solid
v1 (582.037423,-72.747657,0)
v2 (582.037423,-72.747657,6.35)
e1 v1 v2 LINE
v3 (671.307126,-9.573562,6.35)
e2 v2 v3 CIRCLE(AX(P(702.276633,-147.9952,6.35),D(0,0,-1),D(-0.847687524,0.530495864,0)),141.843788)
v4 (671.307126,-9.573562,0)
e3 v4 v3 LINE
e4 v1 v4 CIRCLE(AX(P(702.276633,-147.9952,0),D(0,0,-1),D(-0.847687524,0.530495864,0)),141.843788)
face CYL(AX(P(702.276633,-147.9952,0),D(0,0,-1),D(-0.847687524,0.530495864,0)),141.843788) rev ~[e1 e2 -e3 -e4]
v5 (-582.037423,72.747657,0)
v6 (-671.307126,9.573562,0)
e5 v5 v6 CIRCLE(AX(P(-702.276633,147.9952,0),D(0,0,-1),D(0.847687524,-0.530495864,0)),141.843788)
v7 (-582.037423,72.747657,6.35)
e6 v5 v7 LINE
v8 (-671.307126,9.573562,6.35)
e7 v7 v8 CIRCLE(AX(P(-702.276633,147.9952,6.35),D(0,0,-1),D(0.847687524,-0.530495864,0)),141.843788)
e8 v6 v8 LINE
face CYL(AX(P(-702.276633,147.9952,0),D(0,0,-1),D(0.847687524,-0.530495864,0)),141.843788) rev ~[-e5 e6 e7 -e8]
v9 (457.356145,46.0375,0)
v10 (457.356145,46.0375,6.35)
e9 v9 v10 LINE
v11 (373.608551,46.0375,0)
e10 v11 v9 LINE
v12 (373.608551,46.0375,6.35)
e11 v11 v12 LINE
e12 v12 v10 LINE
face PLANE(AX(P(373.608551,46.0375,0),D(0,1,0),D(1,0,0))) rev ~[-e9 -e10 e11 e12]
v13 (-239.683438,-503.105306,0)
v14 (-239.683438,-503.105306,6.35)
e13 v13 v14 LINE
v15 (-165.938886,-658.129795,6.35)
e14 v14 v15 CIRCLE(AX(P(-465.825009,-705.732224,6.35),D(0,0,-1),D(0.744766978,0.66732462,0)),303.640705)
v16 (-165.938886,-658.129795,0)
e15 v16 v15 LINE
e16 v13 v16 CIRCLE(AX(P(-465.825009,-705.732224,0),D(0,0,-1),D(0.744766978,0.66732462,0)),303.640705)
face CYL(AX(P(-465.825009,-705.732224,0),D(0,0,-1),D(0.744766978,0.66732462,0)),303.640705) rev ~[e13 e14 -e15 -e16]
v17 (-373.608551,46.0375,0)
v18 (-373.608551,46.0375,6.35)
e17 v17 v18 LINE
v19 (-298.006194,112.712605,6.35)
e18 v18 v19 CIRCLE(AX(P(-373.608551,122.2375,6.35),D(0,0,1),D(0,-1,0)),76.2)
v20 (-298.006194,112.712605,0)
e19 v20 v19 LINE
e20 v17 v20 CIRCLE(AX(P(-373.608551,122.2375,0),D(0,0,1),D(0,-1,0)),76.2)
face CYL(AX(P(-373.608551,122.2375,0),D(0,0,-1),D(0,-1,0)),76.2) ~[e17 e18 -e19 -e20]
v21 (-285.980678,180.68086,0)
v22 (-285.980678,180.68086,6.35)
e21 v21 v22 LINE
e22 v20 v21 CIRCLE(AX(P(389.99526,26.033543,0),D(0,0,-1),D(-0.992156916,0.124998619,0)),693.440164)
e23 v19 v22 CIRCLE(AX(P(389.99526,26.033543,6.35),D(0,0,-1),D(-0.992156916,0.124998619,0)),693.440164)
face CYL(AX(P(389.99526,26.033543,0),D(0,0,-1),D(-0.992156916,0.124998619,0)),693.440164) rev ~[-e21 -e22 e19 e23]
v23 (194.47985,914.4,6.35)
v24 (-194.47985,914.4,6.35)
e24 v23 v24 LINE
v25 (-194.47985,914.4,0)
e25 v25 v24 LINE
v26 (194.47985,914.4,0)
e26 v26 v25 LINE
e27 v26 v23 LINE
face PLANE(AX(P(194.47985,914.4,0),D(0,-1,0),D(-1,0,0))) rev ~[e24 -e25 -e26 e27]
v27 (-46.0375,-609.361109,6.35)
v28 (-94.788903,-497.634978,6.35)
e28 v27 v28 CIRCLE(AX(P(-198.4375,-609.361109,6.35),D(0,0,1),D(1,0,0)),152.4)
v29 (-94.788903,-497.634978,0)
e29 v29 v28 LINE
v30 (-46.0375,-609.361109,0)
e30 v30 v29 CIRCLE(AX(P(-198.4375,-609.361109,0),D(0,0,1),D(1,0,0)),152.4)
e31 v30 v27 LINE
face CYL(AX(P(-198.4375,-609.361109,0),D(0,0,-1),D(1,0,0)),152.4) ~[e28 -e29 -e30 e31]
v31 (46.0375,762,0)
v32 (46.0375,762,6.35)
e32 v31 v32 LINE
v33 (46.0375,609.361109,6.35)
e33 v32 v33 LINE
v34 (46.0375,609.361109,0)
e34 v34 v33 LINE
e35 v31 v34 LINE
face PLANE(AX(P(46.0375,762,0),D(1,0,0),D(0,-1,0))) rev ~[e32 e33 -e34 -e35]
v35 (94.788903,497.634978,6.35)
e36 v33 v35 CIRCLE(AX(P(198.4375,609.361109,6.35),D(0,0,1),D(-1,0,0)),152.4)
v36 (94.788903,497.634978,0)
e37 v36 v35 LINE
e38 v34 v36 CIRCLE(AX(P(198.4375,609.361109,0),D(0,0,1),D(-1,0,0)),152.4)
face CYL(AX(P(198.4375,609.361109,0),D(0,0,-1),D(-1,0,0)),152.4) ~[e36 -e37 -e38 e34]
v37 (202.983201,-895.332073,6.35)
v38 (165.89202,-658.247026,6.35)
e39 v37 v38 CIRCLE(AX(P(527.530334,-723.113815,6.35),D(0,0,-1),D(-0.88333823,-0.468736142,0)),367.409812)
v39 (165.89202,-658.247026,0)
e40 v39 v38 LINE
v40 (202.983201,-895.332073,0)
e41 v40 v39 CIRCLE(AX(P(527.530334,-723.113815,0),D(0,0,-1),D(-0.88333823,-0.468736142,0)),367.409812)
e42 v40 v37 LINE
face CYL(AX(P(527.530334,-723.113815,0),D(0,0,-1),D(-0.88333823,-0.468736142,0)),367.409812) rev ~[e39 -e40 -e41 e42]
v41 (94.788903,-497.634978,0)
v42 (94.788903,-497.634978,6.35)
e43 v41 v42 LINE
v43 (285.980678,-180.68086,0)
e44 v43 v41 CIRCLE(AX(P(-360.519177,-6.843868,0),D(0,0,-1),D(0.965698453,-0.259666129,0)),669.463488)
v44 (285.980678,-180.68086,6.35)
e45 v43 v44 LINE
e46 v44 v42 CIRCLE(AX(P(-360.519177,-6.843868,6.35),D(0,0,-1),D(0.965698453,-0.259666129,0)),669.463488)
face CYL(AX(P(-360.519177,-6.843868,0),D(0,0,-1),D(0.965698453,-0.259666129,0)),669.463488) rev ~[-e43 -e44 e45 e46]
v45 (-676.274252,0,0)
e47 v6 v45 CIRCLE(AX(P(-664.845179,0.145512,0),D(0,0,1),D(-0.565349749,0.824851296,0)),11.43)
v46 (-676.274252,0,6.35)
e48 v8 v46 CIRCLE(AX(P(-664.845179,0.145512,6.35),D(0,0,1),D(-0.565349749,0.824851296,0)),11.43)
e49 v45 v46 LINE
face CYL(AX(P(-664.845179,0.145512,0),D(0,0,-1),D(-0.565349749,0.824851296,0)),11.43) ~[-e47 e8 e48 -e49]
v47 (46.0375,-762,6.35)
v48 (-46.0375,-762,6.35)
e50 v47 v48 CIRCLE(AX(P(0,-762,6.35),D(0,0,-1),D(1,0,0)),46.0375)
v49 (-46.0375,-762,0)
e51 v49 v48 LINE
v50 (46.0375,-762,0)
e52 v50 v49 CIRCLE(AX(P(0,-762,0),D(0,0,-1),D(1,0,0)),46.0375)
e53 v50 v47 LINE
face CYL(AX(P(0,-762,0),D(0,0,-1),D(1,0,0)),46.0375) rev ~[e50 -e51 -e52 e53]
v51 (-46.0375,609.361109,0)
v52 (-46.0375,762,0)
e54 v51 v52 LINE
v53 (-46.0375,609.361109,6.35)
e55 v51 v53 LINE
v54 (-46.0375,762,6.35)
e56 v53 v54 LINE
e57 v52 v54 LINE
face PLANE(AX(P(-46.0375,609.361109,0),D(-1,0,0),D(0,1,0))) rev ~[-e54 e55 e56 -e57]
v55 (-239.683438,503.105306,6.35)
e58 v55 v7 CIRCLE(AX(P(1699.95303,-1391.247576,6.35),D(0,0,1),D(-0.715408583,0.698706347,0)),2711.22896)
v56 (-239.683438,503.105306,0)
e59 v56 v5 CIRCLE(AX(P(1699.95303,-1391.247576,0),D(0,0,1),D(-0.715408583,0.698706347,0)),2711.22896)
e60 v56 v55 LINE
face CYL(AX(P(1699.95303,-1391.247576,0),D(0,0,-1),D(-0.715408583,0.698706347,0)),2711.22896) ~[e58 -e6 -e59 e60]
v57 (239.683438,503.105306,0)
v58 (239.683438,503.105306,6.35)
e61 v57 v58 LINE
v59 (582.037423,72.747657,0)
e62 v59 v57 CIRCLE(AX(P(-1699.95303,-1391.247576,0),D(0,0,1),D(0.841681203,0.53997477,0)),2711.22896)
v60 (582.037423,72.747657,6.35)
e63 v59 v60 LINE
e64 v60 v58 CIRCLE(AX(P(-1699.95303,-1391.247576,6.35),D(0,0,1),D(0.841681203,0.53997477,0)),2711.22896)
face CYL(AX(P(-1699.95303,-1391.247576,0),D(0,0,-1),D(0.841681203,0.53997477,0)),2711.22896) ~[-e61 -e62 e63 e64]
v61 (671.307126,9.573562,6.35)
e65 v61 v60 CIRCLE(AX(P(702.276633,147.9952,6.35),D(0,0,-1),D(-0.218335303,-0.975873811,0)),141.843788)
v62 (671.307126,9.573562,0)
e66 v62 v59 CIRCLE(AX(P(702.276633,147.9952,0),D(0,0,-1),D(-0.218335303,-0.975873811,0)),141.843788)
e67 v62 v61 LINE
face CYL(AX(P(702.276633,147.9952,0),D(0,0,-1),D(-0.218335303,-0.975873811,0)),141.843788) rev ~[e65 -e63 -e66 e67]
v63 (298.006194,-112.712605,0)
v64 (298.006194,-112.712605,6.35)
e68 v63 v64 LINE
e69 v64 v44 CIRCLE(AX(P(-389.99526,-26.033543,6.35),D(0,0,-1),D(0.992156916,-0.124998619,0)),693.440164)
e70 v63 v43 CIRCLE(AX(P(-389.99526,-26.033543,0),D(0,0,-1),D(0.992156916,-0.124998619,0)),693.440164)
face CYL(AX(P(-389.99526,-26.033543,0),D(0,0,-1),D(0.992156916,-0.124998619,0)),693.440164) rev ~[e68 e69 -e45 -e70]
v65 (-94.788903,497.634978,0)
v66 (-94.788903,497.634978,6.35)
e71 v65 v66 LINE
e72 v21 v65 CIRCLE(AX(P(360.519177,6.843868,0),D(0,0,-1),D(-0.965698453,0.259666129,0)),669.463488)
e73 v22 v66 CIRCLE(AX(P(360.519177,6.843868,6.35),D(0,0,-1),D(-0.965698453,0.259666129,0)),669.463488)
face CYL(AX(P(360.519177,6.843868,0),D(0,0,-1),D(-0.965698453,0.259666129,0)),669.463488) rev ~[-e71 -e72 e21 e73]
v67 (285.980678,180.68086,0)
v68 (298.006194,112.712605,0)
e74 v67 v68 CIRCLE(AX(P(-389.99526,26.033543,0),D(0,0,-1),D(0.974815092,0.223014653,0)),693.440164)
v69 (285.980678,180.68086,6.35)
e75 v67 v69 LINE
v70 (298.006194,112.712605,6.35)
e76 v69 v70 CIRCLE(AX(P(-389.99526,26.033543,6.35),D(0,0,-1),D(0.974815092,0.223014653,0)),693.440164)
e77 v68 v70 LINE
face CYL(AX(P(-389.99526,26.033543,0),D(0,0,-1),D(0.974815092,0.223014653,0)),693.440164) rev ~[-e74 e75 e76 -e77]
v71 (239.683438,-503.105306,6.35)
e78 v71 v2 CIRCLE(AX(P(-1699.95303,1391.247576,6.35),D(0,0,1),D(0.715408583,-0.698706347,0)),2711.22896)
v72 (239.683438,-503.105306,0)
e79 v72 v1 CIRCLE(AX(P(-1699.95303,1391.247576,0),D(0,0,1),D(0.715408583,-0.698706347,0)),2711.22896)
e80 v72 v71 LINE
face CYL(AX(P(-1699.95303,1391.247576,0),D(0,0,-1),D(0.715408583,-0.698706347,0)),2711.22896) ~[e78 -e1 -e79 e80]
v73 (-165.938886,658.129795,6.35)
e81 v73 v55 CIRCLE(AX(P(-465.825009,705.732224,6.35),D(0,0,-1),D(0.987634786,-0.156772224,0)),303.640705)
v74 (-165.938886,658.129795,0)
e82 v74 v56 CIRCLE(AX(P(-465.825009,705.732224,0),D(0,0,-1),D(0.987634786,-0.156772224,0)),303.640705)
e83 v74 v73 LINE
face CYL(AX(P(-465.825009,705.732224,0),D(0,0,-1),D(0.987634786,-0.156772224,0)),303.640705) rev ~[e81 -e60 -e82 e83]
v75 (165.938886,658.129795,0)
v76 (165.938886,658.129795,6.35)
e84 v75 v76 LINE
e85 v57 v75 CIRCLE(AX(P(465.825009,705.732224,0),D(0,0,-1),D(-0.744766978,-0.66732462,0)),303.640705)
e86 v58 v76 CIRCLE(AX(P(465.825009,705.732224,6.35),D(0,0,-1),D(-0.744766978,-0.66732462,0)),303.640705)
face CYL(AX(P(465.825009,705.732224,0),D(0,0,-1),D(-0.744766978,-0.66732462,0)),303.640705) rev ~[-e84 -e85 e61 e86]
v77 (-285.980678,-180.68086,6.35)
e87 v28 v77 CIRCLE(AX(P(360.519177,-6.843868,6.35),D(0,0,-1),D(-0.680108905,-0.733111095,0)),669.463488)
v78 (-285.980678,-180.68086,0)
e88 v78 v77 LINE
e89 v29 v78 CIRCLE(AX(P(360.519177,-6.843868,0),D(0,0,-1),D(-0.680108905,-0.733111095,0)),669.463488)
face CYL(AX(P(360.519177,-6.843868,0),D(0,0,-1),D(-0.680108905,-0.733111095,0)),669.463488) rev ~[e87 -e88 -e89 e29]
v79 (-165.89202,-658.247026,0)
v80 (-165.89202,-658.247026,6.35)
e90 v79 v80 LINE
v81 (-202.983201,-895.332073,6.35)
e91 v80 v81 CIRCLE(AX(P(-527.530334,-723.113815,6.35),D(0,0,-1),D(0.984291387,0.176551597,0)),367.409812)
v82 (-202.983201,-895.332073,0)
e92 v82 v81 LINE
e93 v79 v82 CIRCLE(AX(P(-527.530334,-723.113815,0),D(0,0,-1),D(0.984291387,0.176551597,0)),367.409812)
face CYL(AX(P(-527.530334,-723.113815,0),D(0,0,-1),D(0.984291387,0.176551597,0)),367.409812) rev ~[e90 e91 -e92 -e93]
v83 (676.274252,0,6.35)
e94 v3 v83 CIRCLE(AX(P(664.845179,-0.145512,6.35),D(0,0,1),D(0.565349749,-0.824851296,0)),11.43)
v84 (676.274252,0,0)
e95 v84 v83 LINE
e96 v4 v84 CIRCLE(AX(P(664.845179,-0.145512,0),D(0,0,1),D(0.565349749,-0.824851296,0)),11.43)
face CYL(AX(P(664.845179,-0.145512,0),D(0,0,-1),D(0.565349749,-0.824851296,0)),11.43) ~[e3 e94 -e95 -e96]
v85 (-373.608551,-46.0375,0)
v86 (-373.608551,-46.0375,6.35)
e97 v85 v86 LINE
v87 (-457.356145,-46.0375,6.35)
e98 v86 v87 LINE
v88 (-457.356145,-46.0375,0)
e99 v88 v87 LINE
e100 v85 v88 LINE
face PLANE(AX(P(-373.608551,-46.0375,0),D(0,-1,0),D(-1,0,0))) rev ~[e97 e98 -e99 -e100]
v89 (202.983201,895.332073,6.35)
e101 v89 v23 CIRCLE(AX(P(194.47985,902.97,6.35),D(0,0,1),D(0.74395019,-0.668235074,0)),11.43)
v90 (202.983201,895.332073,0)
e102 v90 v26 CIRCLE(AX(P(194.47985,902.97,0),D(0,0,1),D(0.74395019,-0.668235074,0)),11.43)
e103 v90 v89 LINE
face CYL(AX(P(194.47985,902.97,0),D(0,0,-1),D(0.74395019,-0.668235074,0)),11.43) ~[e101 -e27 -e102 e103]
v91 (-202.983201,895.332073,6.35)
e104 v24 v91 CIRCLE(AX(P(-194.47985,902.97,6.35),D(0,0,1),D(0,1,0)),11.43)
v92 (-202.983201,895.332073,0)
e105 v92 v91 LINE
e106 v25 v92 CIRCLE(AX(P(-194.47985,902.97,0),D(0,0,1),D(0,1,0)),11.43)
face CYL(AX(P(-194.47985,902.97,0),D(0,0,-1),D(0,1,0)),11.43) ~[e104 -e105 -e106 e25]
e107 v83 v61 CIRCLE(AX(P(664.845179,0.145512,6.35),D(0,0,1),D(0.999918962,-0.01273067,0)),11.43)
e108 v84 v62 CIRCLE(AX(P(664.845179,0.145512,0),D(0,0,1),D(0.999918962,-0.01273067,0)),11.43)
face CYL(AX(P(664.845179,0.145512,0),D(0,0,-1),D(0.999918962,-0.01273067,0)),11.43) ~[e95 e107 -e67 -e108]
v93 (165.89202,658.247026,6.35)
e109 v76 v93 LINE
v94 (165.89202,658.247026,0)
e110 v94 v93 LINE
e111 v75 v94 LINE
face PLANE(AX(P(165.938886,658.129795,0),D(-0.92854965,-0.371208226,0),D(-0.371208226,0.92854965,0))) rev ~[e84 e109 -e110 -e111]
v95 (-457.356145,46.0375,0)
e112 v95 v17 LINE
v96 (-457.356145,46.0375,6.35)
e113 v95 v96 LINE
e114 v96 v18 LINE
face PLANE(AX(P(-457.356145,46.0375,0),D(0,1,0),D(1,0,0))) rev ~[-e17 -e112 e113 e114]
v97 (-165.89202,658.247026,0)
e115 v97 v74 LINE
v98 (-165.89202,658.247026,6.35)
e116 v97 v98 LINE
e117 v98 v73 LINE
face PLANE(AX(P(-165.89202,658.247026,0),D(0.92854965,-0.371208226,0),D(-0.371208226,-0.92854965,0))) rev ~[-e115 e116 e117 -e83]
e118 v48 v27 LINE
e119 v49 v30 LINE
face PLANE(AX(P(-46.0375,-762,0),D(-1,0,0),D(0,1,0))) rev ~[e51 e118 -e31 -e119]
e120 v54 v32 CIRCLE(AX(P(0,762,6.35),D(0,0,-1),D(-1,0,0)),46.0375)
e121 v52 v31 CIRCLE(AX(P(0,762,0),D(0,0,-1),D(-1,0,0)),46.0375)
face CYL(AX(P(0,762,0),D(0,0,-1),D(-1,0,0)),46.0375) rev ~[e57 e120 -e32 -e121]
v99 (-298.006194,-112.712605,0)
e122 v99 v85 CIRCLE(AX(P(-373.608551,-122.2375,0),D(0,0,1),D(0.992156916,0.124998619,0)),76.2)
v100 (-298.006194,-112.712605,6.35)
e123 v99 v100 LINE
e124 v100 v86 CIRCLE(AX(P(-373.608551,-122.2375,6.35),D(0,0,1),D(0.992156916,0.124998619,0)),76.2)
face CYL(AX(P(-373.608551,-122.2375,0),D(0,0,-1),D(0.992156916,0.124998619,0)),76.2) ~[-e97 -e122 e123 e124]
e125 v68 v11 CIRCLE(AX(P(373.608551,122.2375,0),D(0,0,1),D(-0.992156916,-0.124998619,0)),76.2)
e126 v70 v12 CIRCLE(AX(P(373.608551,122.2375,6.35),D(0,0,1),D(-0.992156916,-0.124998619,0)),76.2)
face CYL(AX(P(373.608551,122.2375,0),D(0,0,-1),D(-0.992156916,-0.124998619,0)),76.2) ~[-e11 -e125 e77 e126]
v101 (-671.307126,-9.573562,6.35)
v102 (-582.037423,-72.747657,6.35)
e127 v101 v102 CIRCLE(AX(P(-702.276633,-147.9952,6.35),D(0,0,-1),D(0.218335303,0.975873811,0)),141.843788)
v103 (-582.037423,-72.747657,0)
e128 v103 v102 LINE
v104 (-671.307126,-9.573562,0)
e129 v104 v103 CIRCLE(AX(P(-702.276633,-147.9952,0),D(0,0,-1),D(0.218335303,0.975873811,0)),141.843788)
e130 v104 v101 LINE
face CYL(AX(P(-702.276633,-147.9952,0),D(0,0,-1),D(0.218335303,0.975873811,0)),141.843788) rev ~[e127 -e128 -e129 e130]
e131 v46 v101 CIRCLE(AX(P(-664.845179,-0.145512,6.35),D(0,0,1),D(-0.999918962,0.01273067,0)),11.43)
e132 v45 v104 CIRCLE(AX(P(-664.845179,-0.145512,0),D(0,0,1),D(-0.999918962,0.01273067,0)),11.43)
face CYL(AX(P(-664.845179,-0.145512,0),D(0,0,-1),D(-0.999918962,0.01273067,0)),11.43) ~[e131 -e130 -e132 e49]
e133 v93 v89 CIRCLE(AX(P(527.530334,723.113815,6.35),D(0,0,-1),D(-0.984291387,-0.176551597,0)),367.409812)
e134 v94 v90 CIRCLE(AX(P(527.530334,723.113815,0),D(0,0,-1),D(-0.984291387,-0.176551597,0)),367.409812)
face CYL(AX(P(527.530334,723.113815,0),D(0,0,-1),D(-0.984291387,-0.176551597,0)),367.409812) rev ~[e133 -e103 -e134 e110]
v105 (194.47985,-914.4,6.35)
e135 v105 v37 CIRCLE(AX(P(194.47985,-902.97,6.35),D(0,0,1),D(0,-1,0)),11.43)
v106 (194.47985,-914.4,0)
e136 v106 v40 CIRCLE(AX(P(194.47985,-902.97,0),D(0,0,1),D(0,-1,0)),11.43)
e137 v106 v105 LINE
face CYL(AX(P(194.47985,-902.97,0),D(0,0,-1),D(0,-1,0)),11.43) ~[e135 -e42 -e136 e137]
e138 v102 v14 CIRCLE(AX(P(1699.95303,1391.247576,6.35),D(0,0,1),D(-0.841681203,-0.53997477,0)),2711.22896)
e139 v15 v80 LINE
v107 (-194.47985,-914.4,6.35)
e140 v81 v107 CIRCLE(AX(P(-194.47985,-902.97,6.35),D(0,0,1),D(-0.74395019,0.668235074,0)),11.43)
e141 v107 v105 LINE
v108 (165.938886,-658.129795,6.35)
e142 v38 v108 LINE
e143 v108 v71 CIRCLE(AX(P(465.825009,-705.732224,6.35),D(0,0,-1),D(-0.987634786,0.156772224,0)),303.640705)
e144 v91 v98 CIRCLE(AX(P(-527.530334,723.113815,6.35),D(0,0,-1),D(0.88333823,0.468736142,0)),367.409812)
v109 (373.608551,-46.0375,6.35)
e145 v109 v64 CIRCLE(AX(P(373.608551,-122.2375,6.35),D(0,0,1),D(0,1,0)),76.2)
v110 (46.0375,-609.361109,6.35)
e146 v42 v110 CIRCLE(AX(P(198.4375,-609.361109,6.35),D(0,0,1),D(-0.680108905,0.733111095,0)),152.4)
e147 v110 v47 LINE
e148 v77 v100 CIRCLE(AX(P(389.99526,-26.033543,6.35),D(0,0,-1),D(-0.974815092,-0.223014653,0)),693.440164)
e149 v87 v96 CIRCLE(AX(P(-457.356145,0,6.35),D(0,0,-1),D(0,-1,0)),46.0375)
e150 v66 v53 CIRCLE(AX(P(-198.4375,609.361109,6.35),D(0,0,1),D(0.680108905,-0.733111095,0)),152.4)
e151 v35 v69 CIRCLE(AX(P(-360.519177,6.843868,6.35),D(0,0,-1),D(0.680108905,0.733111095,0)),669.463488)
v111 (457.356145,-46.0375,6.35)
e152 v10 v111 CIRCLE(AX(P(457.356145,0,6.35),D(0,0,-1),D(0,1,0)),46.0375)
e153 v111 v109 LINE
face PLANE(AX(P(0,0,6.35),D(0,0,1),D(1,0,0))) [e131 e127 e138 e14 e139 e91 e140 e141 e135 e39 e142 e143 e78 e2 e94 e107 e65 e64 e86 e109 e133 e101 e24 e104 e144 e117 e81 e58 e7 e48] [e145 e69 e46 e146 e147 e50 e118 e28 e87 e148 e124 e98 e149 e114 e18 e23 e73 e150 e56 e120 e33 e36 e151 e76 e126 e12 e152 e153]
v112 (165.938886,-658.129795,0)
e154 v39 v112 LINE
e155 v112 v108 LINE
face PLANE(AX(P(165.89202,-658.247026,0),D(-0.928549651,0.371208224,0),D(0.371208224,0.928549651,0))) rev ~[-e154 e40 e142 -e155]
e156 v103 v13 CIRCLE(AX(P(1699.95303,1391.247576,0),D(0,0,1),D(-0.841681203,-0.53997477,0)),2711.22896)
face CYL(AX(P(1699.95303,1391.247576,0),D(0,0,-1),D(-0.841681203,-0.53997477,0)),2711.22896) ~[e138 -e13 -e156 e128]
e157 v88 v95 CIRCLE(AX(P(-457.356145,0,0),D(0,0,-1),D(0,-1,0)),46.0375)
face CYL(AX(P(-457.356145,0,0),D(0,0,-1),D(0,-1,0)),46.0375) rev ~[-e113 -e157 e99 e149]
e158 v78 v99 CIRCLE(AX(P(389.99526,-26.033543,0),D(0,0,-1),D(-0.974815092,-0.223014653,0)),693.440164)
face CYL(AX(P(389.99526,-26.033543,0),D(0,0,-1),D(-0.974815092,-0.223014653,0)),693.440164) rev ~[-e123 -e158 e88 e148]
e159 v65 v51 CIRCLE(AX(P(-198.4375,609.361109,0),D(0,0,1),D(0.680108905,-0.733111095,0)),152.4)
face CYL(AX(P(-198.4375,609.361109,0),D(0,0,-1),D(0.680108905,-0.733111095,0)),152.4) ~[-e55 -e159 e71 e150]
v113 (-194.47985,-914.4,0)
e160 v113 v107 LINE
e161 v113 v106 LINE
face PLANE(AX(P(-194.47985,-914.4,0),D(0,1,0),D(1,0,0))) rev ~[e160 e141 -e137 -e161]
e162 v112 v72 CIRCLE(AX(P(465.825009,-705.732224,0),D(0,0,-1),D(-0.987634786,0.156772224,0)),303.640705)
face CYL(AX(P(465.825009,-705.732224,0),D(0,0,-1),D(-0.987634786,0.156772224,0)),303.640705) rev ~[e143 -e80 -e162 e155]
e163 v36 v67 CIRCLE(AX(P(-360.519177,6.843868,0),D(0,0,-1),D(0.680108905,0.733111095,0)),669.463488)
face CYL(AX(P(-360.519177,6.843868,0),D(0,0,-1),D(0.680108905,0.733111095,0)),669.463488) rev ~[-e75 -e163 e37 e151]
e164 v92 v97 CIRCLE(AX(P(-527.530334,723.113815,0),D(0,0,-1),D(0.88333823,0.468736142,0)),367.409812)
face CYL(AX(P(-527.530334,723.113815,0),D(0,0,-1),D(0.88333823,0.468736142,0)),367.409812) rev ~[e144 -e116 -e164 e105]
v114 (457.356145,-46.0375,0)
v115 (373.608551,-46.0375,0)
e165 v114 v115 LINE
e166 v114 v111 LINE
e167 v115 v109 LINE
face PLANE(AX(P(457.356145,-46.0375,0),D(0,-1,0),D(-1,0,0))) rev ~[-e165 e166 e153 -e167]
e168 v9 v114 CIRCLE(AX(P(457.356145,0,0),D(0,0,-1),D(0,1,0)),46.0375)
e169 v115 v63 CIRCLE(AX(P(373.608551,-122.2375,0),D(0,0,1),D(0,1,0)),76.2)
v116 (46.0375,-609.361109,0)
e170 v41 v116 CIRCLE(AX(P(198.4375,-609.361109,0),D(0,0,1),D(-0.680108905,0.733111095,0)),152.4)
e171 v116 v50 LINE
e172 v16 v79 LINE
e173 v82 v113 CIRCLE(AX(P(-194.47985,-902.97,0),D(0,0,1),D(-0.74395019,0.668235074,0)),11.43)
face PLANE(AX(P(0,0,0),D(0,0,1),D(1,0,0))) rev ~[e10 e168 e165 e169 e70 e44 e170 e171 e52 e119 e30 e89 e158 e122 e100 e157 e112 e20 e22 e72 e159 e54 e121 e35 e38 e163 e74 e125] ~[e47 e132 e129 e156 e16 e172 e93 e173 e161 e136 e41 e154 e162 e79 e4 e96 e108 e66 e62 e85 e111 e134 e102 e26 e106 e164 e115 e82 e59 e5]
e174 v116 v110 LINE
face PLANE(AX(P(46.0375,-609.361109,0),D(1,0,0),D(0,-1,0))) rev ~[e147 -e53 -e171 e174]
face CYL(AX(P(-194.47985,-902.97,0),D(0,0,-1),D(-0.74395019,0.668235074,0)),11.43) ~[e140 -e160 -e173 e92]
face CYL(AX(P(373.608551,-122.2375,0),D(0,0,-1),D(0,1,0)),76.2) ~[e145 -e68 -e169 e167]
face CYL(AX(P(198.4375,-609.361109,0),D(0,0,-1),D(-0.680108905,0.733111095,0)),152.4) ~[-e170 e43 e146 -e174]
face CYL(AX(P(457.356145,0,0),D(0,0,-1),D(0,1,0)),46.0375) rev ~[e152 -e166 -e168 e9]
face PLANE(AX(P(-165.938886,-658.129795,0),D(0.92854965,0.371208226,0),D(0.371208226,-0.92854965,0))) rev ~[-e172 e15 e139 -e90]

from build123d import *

# Parameters (mm, degrees)
BOSS_EXTRUDE1_DEPTH = 6.35


with BuildPart() as part:
    # Model → Boss-Extrude1 (new body)
    with BuildSketch(Plane.XY):
        with BuildLine():
            Line((-1e-09, 914.4), (-194.479849893, 914.4))
            ThreePointArc((-194.479849893, 914.4), (-204.918872942, 907.625287079), (-202.98320057, 895.332073104))
            ThreePointArc((-202.98320057, 895.332073104), (-164.535916974, 779.903104595), (-165.892020398, 658.247026365))
            Line((-165.892020398, 658.247026365), (-165.93888619, 658.129795087))
            ThreePointArc((-165.93888619, 658.129795087), (-191.627212467, 575.297388544), (-239.683438481, 503.105305724))
            ThreePointArc((-239.683438481, 503.105305724), (-421.799875665, 296.628923535), (-582.037423101, 72.747657041))
            ThreePointArc((-582.037423101, 72.747657041), (-620.33909224, 32.211350911), (-671.307126154, 9.573561873))
            ThreePointArc((-671.307126154, 9.573561873), (-674.990888605, 5.409489793), (-676.274252254, 0))
            ThreePointArc((-676.274252254, 0), (-674.990888605, -5.409489793), (-671.307126154, -9.573561873))
            ThreePointArc((-671.307126154, -9.573561873), (-620.33909224, -32.211350911), (-582.037423101, -72.747657041))
            ThreePointArc((-582.037423101, -72.747657041), (-421.799875665, -296.628923535), (-239.683438481, -503.105305724))
            ThreePointArc((-239.683438481, -503.105305724), (-191.627212467, -575.297388544), (-165.93888619, -658.129795087))
            Line((-165.93888619, -658.129795087), (-165.892020398, -658.247026365))
            ThreePointArc((-165.892020398, -658.247026365), (-164.535916974, -779.903104595), (-202.98320057, -895.332073104))
            ThreePointArc((-202.98320057, -895.332073104), (-204.918872942, -907.625287079), (-194.479849893, -914.4))
            Line((-194.479849893, -914.4), (-1e-09, -914.4))
            Line((-1e-09, -914.4), (194.47984989, -914.4))
            ThreePointArc((194.47984989, -914.4), (204.918872939, -907.625287079), (202.983200567, -895.332073104))
            ThreePointArc((202.983200567, -895.332073104), (164.535916972, -779.903104595), (165.892020395, -658.247026365))
            Line((165.892020395, -658.247026365), (165.938886187, -658.129795086))
            ThreePointArc((165.938886187, -658.129795086), (191.627212464, -575.297388544), (239.683438478, -503.105305724))
            ThreePointArc((239.683438478, -503.105305724), (421.79987566, -296.628923537), (582.037423094, -72.747657046))
            ThreePointArc((582.037423094, -72.747657046), (620.339092235, -32.211350913), (671.307126151, -9.573561873))
            ThreePointArc((671.307126151, -9.573561873), (674.990888602, -5.409489793), (676.274252251, 0))
            ThreePointArc((676.274252251, 0), (674.990888602, 5.409489793), (671.307126151, 9.573561873))
            ThreePointArc((671.307126151, 9.573561873), (620.339092237, 32.211350911), (582.037423097, 72.747657043))
            ThreePointArc((582.037423097, 72.747657043), (421.799875662, 296.628923535), (239.683438478, 503.105305724))
            ThreePointArc((239.683438478, 503.105305724), (191.627212464, 575.297388544), (165.938886187, 658.129795087))
            Line((165.938886187, 658.129795087), (165.892020395, 658.247026365))
            ThreePointArc((165.892020395, 658.247026365), (164.535916972, 779.903104595), (202.983200567, 895.332073104))
            ThreePointArc((202.983200567, 895.332073104), (204.918872939, 907.625287079), (194.47984989, 914.4))
            Line((194.47984989, 914.4), (-1e-09, 914.4))
        make_face()
        with BuildLine():
            Line((-46.0375, -761.999999999), (-46.0375, -609.361109078))
            ThreePointArc((-46.0375, -609.361109078), (-58.756065659, -548.411483153), (-94.788902893, -497.634978214))
            ThreePointArc((-94.788902893, -497.634978214), (-212.726110253, -352.63455945), (-285.980677563, -180.680860187))
            ThreePointArc((-285.980677563, -180.680860187), (-292.839641189, -146.846450496), (-298.006194276, -112.712605264))
            ThreePointArc((-298.006194276, -112.712605264), (-323.20694899, -65.087535088), (-373.608551252, -46.0375))
            Line((-373.608551252, -46.0375), (-457.356144829, -46.0375))
            ThreePointArc((-457.356144829, -46.0375), (-503.393644829, 0), (-457.356144829, 46.0375))
            Line((-457.356144829, 46.0375), (-373.608551252, 46.0375))
            ThreePointArc((-373.608551252, 46.0375), (-323.20694899, 65.087535088), (-298.006194276, 112.712605264))
            ThreePointArc((-298.006194276, 112.712605264), (-292.839641189, 146.846450496), (-285.980677563, 180.680860188))
            ThreePointArc((-285.980677563, 180.680860188), (-212.726110253, 352.63455945), (-94.788902893, 497.634978214))
            ThreePointArc((-94.788902893, 497.634978214), (-58.756065659, 548.411483153), (-46.0375, 609.361109078))
            Line((-46.0375, 609.361109078), (-46.0375, 761.999999999))
            ThreePointArc((-46.0375, 761.999999999), (0, 808.037499999), (46.0375, 761.999999999))
            Line((46.0375, 761.999999999), (46.0375, 609.361109078))
            ThreePointArc((46.0375, 609.361109078), (58.756065659, 548.411483153), (94.788902893, 497.634978214))
            ThreePointArc((94.788902893, 497.634978214), (212.726110253, 352.63455945), (285.980677563, 180.680860188))
            ThreePointArc((285.980677563, 180.680860188), (292.839641189, 146.846450496), (298.006194276, 112.712605264))
            ThreePointArc((298.006194276, 112.712605264), (323.20694899, 65.087535088), (373.608551252, 46.0375))
            Line((373.608551252, 46.0375), (457.356144829, 46.0375))
            ThreePointArc((457.356144829, 46.0375), (503.393644829, 0), (457.356144829, -46.0375))
            Line((457.356144829, -46.0375), (373.608551252, -46.0375))
            ThreePointArc((373.608551252, -46.0375), (323.20694899, -65.087535088), (298.006194276, -112.712605264))
            ThreePointArc((298.006194276, -112.712605264), (292.839641189, -146.846450497), (285.980677563, -180.680860188))
            ThreePointArc((285.980677563, -180.680860188), (212.726110253, -352.63455945), (94.788902893, -497.634978214))
            ThreePointArc((94.788902893, -497.634978214), (58.756065659, -548.411483153), (46.0375, -609.361109078))
            Line((46.0375, -609.361109078), (46.0375, -761.999999999))
            ThreePointArc((46.0375, -761.999999999), (0, -808.037499999), (-46.0375, -761.999999999))
        make_face(mode=Mode.SUBTRACT)
    extrude(amount=BOSS_EXTRUDE1_DEPTH)


solid = part.part
